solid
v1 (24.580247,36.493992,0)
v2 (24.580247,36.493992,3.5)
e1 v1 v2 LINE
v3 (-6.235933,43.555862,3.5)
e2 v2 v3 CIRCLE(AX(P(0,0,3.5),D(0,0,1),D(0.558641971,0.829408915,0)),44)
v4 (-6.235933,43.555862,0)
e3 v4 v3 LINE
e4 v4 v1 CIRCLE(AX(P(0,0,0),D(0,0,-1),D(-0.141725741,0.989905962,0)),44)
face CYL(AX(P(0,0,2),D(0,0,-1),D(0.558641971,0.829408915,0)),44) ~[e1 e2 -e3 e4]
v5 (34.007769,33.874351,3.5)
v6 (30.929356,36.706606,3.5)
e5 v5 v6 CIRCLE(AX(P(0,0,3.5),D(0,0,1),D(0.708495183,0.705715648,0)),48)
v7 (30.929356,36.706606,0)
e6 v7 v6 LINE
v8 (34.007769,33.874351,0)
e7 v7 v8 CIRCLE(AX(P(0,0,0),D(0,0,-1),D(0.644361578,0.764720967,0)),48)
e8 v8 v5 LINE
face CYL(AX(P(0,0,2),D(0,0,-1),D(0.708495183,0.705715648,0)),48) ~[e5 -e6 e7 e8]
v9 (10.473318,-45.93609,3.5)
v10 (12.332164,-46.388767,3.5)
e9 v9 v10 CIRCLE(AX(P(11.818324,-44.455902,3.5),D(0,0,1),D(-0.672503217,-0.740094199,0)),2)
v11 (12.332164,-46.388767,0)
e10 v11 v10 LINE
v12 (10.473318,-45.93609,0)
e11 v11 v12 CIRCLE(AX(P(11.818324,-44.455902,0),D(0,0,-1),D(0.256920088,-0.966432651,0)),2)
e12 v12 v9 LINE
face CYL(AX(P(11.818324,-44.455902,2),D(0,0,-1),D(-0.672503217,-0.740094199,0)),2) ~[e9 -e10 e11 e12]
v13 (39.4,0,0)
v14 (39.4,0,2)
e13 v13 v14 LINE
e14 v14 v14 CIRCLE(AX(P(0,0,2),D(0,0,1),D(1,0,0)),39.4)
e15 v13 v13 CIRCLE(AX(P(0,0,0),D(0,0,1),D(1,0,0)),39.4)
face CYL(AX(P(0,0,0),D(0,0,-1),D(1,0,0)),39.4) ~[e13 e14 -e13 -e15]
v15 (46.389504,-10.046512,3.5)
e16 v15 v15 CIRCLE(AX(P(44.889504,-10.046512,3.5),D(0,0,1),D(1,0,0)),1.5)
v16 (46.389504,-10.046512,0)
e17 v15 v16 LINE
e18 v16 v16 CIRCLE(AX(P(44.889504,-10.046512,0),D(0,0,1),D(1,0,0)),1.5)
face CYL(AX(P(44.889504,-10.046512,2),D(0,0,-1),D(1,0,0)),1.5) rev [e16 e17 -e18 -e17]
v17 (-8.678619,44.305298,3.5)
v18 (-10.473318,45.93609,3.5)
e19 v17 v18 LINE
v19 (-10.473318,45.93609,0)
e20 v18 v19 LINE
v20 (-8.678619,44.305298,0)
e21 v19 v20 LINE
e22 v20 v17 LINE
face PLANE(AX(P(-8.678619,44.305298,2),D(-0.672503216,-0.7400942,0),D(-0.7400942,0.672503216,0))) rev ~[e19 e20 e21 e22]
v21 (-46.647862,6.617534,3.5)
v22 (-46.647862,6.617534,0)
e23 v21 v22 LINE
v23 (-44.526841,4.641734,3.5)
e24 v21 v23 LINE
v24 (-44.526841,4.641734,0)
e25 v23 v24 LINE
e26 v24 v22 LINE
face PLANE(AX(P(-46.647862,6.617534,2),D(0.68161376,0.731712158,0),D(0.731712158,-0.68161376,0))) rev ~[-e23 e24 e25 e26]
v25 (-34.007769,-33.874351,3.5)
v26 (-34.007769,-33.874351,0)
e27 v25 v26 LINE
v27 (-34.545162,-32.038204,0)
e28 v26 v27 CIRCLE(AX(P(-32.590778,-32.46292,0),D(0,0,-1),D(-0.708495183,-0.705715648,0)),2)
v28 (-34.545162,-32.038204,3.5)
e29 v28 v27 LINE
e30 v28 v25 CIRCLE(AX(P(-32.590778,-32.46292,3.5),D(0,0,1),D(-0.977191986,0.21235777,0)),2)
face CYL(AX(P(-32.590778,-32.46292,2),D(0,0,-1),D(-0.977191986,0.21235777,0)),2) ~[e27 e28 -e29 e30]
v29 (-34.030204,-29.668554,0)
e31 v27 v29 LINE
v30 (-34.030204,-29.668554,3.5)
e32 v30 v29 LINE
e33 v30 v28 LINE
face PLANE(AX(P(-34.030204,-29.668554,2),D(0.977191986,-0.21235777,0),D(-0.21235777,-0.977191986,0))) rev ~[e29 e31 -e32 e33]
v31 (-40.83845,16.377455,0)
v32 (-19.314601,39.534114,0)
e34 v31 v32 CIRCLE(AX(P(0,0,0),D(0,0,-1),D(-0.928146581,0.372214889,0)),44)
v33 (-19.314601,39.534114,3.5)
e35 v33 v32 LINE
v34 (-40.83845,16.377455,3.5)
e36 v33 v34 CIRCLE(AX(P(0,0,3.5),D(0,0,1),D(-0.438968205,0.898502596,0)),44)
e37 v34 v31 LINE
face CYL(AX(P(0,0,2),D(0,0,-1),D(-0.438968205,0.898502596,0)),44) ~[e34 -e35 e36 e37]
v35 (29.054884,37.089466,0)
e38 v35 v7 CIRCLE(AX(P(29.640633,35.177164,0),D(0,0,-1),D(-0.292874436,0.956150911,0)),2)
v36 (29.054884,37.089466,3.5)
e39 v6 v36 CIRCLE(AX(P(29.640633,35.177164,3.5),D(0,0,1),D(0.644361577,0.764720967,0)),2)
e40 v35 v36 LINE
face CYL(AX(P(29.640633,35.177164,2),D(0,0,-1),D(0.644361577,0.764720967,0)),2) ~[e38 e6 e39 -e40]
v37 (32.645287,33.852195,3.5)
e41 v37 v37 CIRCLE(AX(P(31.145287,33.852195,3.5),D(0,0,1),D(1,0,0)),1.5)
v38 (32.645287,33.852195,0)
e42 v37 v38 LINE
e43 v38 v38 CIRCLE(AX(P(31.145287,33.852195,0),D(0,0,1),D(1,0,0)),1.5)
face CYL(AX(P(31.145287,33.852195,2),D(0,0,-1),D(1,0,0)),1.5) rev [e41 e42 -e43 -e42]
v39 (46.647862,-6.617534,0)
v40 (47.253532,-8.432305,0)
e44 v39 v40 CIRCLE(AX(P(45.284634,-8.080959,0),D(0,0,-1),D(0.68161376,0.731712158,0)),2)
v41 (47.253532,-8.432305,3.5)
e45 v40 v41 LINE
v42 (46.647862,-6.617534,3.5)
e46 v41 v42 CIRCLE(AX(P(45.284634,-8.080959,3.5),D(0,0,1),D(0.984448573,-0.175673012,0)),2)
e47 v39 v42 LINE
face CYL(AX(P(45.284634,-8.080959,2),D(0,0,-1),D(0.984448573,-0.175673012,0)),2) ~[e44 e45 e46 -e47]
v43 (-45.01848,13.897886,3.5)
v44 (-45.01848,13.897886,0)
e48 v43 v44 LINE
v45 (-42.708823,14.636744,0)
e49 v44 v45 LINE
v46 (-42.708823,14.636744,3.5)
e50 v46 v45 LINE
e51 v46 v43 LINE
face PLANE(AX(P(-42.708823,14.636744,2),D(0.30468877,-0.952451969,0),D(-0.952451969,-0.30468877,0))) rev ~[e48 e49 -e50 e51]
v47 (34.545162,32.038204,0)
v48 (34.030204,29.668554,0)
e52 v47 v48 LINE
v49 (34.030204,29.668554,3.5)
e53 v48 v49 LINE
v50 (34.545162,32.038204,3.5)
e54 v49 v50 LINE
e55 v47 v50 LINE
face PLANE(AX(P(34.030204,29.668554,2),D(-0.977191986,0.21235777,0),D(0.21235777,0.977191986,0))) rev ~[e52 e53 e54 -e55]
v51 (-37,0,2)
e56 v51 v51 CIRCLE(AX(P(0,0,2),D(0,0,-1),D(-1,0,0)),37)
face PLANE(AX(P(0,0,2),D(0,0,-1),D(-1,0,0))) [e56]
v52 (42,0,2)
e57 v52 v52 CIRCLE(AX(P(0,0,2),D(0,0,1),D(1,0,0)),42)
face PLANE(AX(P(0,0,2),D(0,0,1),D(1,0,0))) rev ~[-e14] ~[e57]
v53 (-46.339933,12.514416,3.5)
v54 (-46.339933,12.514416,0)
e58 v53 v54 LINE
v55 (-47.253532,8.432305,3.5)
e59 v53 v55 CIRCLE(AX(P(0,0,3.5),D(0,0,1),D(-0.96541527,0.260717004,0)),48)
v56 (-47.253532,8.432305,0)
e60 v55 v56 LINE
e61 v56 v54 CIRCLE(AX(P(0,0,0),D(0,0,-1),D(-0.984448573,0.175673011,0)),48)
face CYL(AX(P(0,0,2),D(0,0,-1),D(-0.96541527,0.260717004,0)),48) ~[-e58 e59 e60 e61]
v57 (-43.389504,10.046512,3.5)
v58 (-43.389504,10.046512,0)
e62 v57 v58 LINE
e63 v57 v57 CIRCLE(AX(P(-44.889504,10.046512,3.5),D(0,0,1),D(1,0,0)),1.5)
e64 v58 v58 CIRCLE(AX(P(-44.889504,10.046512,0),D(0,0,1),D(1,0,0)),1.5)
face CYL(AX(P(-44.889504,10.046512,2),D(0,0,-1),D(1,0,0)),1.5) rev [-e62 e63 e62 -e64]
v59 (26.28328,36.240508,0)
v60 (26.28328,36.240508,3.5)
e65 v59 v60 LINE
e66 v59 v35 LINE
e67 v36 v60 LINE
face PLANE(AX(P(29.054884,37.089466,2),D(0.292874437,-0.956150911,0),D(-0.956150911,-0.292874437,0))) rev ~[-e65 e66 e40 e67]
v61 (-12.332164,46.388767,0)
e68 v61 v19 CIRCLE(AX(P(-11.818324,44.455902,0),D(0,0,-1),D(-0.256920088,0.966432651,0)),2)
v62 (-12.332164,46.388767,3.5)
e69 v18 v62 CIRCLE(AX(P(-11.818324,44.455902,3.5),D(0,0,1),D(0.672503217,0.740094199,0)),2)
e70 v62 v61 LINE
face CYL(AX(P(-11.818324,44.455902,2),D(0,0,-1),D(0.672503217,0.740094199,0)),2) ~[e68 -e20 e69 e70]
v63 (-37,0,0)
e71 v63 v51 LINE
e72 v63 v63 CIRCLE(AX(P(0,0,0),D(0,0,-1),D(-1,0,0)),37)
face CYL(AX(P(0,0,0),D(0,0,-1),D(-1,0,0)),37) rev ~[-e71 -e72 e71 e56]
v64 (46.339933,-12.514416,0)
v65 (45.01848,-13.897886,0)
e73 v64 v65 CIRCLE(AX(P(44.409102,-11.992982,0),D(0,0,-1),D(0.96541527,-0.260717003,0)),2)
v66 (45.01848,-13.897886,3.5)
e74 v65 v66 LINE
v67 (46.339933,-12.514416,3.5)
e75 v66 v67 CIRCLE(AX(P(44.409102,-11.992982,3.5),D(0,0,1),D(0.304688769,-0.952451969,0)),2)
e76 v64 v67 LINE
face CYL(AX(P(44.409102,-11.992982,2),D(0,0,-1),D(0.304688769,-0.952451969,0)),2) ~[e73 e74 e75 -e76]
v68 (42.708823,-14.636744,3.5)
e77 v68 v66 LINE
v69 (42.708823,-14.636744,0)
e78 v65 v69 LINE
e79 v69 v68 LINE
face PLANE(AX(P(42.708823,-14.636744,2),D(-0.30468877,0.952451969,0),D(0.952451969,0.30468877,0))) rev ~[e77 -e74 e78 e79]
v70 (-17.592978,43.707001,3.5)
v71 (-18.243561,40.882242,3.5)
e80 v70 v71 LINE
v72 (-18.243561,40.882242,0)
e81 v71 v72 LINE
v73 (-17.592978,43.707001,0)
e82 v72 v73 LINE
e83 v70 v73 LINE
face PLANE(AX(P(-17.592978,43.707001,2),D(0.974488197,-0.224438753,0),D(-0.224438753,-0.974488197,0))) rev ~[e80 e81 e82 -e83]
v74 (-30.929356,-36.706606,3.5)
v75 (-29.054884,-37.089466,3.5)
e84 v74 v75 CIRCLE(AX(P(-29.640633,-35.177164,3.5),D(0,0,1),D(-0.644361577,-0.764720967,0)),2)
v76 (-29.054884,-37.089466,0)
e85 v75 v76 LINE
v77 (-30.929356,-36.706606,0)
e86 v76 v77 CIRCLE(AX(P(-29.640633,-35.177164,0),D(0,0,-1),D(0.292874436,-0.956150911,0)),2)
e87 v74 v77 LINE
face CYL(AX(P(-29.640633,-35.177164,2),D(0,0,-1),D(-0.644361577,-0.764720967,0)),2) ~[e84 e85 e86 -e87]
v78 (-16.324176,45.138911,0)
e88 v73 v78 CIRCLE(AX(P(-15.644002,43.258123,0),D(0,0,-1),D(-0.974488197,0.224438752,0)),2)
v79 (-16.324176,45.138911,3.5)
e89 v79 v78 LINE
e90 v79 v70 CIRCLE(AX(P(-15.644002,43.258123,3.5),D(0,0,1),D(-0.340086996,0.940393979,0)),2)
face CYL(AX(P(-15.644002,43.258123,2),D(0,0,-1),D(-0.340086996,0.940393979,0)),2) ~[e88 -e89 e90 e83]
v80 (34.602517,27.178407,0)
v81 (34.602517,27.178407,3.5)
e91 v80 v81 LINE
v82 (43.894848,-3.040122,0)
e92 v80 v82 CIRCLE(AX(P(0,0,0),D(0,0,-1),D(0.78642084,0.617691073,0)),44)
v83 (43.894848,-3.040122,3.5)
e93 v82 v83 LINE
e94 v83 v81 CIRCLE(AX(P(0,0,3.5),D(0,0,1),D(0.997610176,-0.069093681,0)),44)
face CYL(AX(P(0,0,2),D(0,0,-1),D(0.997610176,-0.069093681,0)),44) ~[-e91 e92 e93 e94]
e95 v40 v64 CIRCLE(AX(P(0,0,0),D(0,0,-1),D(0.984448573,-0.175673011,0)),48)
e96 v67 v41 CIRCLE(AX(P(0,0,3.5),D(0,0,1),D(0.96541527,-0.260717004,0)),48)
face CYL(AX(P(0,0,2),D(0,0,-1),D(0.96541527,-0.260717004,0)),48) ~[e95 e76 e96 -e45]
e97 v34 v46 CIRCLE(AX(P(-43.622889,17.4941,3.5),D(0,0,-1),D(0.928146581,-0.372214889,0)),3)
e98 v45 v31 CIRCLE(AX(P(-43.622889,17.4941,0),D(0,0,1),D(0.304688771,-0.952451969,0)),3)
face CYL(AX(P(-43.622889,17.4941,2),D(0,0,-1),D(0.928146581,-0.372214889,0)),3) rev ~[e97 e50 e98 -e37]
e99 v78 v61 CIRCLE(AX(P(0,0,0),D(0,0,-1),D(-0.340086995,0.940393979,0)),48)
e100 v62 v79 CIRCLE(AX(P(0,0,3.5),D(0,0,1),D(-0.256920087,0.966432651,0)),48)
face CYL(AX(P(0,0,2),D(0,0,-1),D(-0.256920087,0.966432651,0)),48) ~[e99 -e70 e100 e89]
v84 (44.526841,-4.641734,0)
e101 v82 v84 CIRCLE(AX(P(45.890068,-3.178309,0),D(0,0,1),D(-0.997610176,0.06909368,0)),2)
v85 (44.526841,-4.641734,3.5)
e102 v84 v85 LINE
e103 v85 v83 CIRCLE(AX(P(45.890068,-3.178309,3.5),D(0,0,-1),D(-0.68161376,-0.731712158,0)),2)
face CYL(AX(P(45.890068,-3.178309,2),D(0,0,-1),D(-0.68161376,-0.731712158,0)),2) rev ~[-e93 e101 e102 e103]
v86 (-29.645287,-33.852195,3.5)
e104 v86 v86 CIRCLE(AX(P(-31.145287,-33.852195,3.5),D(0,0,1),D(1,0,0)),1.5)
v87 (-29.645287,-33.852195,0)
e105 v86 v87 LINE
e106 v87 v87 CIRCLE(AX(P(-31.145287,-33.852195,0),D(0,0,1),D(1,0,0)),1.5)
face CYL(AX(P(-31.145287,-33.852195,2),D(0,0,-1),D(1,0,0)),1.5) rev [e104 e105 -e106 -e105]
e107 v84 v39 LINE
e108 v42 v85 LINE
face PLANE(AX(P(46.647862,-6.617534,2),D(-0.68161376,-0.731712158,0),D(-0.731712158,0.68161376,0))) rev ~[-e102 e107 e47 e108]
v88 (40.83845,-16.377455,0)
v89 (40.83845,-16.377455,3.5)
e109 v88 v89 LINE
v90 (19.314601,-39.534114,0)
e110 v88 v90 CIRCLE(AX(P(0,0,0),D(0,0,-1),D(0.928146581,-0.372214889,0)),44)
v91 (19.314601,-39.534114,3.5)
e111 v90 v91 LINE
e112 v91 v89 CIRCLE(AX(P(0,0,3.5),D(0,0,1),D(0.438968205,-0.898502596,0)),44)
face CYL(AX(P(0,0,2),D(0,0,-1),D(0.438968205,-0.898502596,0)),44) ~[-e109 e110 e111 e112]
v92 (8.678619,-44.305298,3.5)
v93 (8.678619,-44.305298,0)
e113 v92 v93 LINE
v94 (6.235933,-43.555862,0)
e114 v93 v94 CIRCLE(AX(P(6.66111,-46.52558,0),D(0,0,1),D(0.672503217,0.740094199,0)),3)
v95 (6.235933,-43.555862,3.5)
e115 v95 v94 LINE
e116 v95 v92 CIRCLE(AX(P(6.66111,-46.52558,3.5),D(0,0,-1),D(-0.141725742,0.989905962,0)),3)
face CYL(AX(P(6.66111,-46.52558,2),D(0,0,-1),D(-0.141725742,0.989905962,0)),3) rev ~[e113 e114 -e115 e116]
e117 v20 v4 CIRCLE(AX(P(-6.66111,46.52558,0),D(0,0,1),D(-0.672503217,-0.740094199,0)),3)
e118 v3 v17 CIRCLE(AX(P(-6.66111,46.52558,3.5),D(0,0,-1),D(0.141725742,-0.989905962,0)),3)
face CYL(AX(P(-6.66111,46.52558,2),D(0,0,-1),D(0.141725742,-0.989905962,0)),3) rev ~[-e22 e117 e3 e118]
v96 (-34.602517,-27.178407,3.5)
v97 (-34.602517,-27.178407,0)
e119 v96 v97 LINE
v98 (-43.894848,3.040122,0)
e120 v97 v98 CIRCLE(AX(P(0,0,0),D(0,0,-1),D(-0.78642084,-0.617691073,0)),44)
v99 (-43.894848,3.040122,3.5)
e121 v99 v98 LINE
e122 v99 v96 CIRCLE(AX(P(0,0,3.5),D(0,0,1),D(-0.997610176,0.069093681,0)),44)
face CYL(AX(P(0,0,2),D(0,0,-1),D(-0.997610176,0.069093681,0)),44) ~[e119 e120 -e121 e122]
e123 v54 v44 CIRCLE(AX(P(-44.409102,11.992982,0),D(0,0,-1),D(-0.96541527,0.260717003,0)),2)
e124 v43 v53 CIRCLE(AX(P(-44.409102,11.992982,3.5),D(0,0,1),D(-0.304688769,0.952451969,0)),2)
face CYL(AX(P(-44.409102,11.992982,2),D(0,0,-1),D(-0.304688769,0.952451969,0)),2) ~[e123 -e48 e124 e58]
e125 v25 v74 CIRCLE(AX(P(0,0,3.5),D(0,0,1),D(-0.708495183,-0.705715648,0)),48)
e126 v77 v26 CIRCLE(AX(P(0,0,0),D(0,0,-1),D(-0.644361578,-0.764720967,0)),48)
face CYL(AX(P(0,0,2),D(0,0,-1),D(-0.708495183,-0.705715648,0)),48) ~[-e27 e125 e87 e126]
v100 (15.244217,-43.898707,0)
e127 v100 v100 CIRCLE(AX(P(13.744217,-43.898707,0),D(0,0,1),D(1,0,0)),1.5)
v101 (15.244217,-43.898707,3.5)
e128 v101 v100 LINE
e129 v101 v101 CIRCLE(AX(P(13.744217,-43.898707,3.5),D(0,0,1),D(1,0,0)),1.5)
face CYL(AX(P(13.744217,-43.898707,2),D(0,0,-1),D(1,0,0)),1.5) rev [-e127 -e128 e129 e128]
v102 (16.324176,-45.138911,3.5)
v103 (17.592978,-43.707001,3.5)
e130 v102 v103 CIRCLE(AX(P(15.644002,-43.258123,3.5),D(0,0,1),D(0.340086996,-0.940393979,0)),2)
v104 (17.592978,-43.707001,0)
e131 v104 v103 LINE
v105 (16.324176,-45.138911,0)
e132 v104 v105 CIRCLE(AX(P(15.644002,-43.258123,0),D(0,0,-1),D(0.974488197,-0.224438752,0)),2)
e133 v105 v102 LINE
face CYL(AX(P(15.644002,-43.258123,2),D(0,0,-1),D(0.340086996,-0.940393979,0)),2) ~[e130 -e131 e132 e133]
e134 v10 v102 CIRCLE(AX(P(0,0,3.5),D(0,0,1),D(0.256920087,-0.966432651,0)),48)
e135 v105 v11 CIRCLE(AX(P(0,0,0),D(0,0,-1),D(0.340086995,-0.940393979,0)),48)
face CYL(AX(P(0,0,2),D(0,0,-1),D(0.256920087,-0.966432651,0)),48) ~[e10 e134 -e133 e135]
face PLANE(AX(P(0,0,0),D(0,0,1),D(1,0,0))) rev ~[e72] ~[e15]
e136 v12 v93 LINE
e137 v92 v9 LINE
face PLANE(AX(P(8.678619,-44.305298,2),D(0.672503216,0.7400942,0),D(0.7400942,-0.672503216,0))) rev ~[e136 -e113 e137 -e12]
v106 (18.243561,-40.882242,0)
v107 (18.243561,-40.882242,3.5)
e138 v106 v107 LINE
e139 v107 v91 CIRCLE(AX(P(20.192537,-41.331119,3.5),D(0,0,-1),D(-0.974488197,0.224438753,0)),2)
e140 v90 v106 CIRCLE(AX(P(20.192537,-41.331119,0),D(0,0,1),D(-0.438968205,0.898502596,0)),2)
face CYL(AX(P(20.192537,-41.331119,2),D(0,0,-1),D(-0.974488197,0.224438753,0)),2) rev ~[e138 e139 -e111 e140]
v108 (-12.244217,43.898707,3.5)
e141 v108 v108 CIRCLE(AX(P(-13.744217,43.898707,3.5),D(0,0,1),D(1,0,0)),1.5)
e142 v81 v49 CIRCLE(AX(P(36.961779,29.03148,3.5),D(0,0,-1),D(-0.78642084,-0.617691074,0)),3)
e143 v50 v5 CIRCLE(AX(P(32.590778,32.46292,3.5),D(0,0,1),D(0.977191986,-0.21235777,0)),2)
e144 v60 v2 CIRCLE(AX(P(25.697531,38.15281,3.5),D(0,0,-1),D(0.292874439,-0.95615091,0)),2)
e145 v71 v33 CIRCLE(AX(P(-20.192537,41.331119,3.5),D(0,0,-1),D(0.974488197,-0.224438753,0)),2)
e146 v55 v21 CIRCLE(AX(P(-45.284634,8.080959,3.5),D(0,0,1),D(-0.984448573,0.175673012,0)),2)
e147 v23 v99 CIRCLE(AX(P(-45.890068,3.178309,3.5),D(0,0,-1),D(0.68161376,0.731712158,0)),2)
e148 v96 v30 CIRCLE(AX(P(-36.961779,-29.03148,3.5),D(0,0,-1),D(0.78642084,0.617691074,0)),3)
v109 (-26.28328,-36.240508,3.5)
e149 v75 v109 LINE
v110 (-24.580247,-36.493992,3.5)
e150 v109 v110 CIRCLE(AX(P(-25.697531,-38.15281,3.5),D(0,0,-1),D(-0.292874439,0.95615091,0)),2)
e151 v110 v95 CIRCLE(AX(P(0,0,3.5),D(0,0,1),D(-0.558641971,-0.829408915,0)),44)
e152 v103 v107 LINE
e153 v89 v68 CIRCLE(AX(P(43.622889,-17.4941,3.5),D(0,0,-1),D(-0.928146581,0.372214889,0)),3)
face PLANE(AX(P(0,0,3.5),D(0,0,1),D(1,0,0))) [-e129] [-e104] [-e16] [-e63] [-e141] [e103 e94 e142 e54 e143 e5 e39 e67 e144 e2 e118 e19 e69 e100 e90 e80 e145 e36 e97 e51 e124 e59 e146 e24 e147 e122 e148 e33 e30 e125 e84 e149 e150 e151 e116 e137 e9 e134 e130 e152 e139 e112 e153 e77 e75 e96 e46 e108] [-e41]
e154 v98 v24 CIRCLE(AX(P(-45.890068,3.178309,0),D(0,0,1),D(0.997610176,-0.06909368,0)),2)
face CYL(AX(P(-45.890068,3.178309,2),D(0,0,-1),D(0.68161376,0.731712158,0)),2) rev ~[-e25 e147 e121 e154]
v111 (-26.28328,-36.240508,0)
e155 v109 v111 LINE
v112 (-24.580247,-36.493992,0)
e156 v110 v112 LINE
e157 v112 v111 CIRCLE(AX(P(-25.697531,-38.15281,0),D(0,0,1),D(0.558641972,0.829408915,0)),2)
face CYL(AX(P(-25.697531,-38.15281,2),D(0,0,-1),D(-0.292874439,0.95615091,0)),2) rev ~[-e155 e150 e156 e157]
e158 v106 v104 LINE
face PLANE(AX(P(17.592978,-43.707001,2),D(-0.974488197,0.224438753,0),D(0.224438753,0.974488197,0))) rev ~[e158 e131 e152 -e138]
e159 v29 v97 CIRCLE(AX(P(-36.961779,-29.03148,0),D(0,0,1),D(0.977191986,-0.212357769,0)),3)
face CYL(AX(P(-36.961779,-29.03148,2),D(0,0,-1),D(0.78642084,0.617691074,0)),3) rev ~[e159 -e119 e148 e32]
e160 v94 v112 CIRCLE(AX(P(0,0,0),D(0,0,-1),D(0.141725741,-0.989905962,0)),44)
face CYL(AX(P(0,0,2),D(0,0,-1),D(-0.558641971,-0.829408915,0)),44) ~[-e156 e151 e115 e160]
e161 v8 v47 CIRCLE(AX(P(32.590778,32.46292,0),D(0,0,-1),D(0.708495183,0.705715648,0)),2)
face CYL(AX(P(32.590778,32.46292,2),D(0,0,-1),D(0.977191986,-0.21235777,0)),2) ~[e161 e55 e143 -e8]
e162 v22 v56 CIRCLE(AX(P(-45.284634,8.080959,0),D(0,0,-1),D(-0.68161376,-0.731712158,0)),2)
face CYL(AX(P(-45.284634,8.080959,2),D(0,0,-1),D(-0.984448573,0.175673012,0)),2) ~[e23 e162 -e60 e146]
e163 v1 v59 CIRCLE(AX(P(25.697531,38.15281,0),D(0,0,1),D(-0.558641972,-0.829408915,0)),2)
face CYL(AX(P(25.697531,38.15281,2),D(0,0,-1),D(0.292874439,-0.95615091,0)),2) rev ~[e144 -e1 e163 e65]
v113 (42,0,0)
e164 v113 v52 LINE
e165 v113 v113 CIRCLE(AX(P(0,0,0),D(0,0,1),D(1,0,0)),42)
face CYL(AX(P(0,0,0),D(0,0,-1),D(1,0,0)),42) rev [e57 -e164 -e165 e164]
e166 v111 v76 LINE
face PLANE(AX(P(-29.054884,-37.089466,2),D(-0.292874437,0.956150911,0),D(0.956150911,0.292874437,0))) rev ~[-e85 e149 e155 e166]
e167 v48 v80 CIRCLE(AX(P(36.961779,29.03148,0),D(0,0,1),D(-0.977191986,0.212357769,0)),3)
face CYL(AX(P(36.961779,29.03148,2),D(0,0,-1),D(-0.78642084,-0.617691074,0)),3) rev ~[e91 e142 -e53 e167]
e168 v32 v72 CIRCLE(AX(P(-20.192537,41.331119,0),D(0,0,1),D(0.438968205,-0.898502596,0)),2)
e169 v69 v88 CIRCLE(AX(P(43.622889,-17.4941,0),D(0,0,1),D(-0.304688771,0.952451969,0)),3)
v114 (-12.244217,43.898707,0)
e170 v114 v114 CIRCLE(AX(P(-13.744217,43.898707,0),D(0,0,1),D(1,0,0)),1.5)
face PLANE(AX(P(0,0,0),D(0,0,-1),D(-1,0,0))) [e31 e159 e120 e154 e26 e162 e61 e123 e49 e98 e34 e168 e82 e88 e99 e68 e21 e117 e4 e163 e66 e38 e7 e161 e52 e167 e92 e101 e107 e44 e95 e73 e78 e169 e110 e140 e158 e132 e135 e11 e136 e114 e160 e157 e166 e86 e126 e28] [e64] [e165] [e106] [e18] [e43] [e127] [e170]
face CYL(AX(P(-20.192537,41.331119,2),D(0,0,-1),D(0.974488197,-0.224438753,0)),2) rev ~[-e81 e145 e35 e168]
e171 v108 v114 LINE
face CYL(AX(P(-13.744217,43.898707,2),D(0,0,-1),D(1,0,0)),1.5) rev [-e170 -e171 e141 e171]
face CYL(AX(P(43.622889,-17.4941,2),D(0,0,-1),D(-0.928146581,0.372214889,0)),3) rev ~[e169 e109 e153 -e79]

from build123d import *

# Parameters (mm, degrees)
SKETCH2_R             = 39.4
BOSS_EXTRUDE1_DEPTH   = 2
SKETCH2_R_2           = 1.5
SKETCH2_R_3           = 42
BOSS_EXTRUDE1_2_DEPTH = 2
SKETCH3_R             = 1.5
BOSS_EXTRUDE2_DEPTH   = 1.5
SKETCH4_R             = 37
CUT_EXTRUDE1_DEPTH    = 2


with BuildPart() as part:
    # Sketch2 → Boss-Extrude1 (new body)
    with BuildSketch(Plane.XY):
        Circle(SKETCH2_R)
    extrude(amount=BOSS_EXTRUDE1_DEPTH)



with BuildPart() as body_2:
    # Sketch2 → Boss-Extrude1 2 (new body)
    with BuildSketch(Plane.XY):
        with BuildLine():
            Line((-45.018479974, 13.897886094), (-42.708823016, 14.636743864))
            ThreePointArc((-42.708823016, 14.636743864), (-41.579055756, 15.298025015), (-40.838449582, 16.377455105))
            ThreePointArc((-40.838449582, 16.377455105), (-32.228172293, 29.955715826), (-19.314601011, 39.534114228))
            ThreePointArc((-19.314601011, 39.534114228), (-18.626580504, 40.087021781), (-18.243561026, 40.882241915))
            Line((-18.243561026, 40.882241915), (-17.592978184, 43.707000534))
            ThreePointArc((-17.592978184, 43.707000534), (-17.140898521, 44.584509163), (-16.324175781, 45.138910987))
            ThreePointArc((-16.324175781, 45.138910987), (-14.341791733, 45.80734668), (-12.332164177, 46.388767247))
            ThreePointArc((-12.332164177, 46.388767247), (-11.345102668, 46.399111036), (-10.473317571, 45.936090345))
            Line((-10.473317571, 45.936090345), (-8.678619493, 44.30529763))
            ThreePointArc((-8.678619493, 44.30529763), (-7.541049587, 43.657531057), (-6.235932621, 43.555862342))
            ThreePointArc((-6.235932621, 43.555862342), (9.828324748, 42.888273836), (24.580246732, 36.493992253))
            ThreePointArc((24.580246732, 36.493992253), (25.403088973, 36.174602792), (26.283279549, 36.240508262))
            Line((26.283279549, 36.240508262), (29.054883694, 37.089466303))
            ThreePointArc((29.054883694, 37.089466303), (30.04086829, 37.136708144), (30.929355724, 36.706606415))
            ThreePointArc((30.929355724, 36.706606415), (32.499430039, 35.324029316), (34.007768798, 33.874351084))
            ThreePointArc((34.007768798, 33.874351084), (34.510257536, 33.024702637), (34.545162404, 32.03820425))
            Line((34.545162404, 32.03820425), (34.030203523, 29.668553765))
            ThreePointArc((34.030203523, 29.668553765), (34.038006169, 28.359506042), (34.602516962, 27.178407237))
            ThreePointArc((34.602516962, 27.178407237), (42.05649704, 12.93255801), (43.894847743, -3.040121975))
            ThreePointArc((43.894847743, -3.040121975), (44.029669477, -3.912418989), (44.526840575, -4.641733653))
            Line((44.526840575, -4.641733653), (46.647861878, -6.617534232))
            ThreePointArc((46.647861878, -6.617534232), (47.181766811, -7.447801019), (47.253531504, -8.432304572))
            ThreePointArc((47.253531504, -8.432304572), (46.841221772, -10.483317364), (46.339932975, -12.514416163))
            ThreePointArc((46.339932975, -12.514416163), (45.855360204, -13.374408399), (45.018479974, -13.897886094))
            Line((45.018479974, -13.897886094), (42.708823016, -14.636743864))
            ThreePointArc((42.708823016, -14.636743864), (41.579055756, -15.298025015), (40.838449582, -16.377455105))
            ThreePointArc((40.838449582, -16.377455105), (32.228172293, -29.955715826), (19.314601011, -39.534114228))
            ThreePointArc((19.314601011, -39.534114228), (18.626580504, -40.087021781), (18.243561026, -40.882241915))
            Line((18.243561026, -40.882241915), (17.592978184, -43.707000534))
            ThreePointArc((17.592978184, -43.707000534), (17.140898521, -44.584509163), (16.324175781, -45.138910987))
            ThreePointArc((16.324175781, -45.138910987), (14.341791733, -45.80734668), (12.332164177, -46.388767247))
            ThreePointArc((12.332164177, -46.388767247), (11.345102668, -46.399111036), (10.473317571, -45.936090345))
            Line((10.473317571, -45.936090345), (8.678619493, -44.30529763))
            ThreePointArc((8.678619493, -44.30529763), (7.541049587, -43.657531057), (6.235932621, -43.555862342))
            ThreePointArc((6.235932621, -43.555862342), (-9.828324748, -42.888273836), (-24.580246732, -36.493992253))
            ThreePointArc((-24.580246732, -36.493992253), (-25.403088973, -36.174602792), (-26.283279549, -36.240508262))
            Line((-26.283279549, -36.240508262), (-29.054883694, -37.089466303))
            ThreePointArc((-29.054883694, -37.089466303), (-30.04086829, -37.136708144), (-30.929355724, -36.706606415))
            ThreePointArc((-30.929355724, -36.706606415), (-32.499430039, -35.324029316), (-34.007768798, -33.874351084))
            ThreePointArc((-34.007768798, -33.874351084), (-34.510257536, -33.024702637), (-34.545162404, -32.03820425))
            Line((-34.545162404, -32.03820425), (-34.030203523, -29.668553765))
            ThreePointArc((-34.030203523, -29.668553765), (-34.038006169, -28.359506042), (-34.602516962, -27.178407237))
            ThreePointArc((-34.602516962, -27.178407237), (-42.05649704, -12.93255801), (-43.894847743, 3.040121975))
            ThreePointArc((-43.894847743, 3.040121975), (-44.029669477, 3.912418989), (-44.526840575, 4.641733653))
            Line((-44.526840575, 4.641733653), (-46.647861878, 6.617534232))
            ThreePointArc((-46.647861878, 6.617534232), (-47.181766811, 7.447801019), (-47.253531504, 8.432304572))
            ThreePointArc((-47.253531504, 8.432304572), (-46.841221772, 10.483317364), (-46.339932975, 12.514416163))
            ThreePointArc((-46.339932975, 12.514416163), (-45.855360204, 13.374408399), (-45.018479974, 13.897886094))
        make_face()
        with Locations((-13.744217077, 43.898707235)):
            Circle(SKETCH2_R_2, mode=Mode.SUBTRACT)
        with Locations((-44.889504198, 10.046512474)):
            Circle(SKETCH2_R_2, mode=Mode.SUBTRACT)
        with Locations((31.145287121, 33.852194762)):
            Circle(SKETCH2_R_2, mode=Mode.SUBTRACT)
        with Locations((44.889504198, -10.046512474)):
            Circle(SKETCH2_R_2, mode=Mode.SUBTRACT)
        with Locations((13.744217077, -43.898707235)):
            Circle(SKETCH2_R_2, mode=Mode.SUBTRACT)
        with Locations((-31.145287121, -33.852194762)):
            Circle(SKETCH2_R_2, mode=Mode.SUBTRACT)
        Circle(SKETCH2_R_3, mode=Mode.SUBTRACT)
    extrude(amount=BOSS_EXTRUDE1_2_DEPTH)


with BuildPart() as part_1:
    add(part.part)

    add(body_2.part)  # Boss-Extrude2 merges body 2
    # Sketch3 → Boss-Extrude2 (add)
    with BuildSketch(Plane.XY.offset(2)):
        with BuildLine():
            Line((8.678619493, -44.30529763), (10.473317571, -45.936090345))
            ThreePointArc((10.473317571, -45.936090345), (11.345102668, -46.399111036), (12.332164177, -46.388767247))
            ThreePointArc((12.332164177, -46.388767247), (14.341791733, -45.80734668), (16.324175781, -45.138910987))
            ThreePointArc((16.324175781, -45.138910987), (17.140898521, -44.584509163), (17.592978184, -43.707000534))
            Line((17.592978184, -43.707000534), (18.243561026, -40.882241915))
            ThreePointArc((18.243561026, -40.882241915), (18.626580504, -40.087021781), (19.314601011, -39.534114228))
            ThreePointArc((19.314601011, -39.534114228), (32.228172293, -29.955715826), (40.838449582, -16.377455105))
            ThreePointArc((40.838449582, -16.377455105), (41.579055756, -15.298025015), (42.708823016, -14.636743864))
            Line((42.708823016, -14.636743864), (45.018479974, -13.897886094))
            ThreePointArc((45.018479974, -13.897886094), (45.855360204, -13.374408399), (46.339932975, -12.514416163))
            ThreePointArc((46.339932975, -12.514416163), (46.841221772, -10.483317364), (47.253531504, -8.432304572))
            ThreePointArc((47.253531504, -8.432304572), (47.181766811, -7.447801019), (46.647861878, -6.617534232))
            Line((46.647861878, -6.617534232), (44.526840575, -4.641733653))
            ThreePointArc((44.526840575, -4.641733653), (44.029669477, -3.912418989), (43.894847743, -3.040121975))
            ThreePointArc((43.894847743, -3.040121975), (42.05649704, 12.93255801), (34.602516962, 27.178407237))
            ThreePointArc((34.602516962, 27.178407237), (34.038006169, 28.359506042), (34.030203523, 29.668553765))
            Line((34.030203523, 29.668553765), (34.545162404, 32.03820425))
            ThreePointArc((34.545162404, 32.03820425), (34.510257536, 33.024702637), (34.007768798, 33.874351084))
            ThreePointArc((34.007768798, 33.874351084), (32.499430039, 35.324029316), (30.929355724, 36.706606415))
            ThreePointArc((30.929355724, 36.706606415), (30.04086829, 37.136708144), (29.054883694, 37.089466303))
            Line((29.054883694, 37.089466303), (26.283279549, 36.240508262))
            ThreePointArc((26.283279549, 36.240508262), (25.403088973, 36.174602792), (24.580246732, 36.493992253))
            ThreePointArc((24.580246732, 36.493992253), (9.828324748, 42.888273836), (-6.235932621, 43.555862342))
            ThreePointArc((-6.235932621, 43.555862342), (-7.541049587, 43.657531057), (-8.678619493, 44.30529763))
            Line((-8.678619493, 44.30529763), (-10.473317571, 45.936090345))
            ThreePointArc((-10.473317571, 45.936090345), (-11.345102668, 46.399111036), (-12.332164177, 46.388767247))
            ThreePointArc((-12.332164177, 46.388767247), (-14.341791733, 45.80734668), (-16.324175781, 45.138910987))
            ThreePointArc((-16.324175781, 45.138910987), (-17.140898521, 44.584509163), (-17.592978184, 43.707000534))
            Line((-17.592978184, 43.707000534), (-18.243561026, 40.882241915))
            ThreePointArc((-18.243561026, 40.882241915), (-18.626580504, 40.087021781), (-19.314601011, 39.534114228))
            ThreePointArc((-19.314601011, 39.534114228), (-32.228172293, 29.955715826), (-40.838449582, 16.377455105))
            ThreePointArc((-40.838449582, 16.377455105), (-41.579055756, 15.298025015), (-42.708823016, 14.636743864))
            Line((-42.708823016, 14.636743864), (-45.018479974, 13.897886094))
            ThreePointArc((-45.018479974, 13.897886094), (-45.855360204, 13.374408399), (-46.339932975, 12.514416163))
            ThreePointArc((-46.339932975, 12.514416163), (-46.841221772, 10.483317364), (-47.253531504, 8.432304572))
            ThreePointArc((-47.253531504, 8.432304572), (-47.181766811, 7.447801019), (-46.647861878, 6.617534232))
            Line((-46.647861878, 6.617534232), (-44.526840575, 4.641733653))
            ThreePointArc((-44.526840575, 4.641733653), (-44.029669477, 3.912418989), (-43.894847743, 3.040121975))
            ThreePointArc((-43.894847743, 3.040121975), (-42.05649704, -12.93255801), (-34.602516962, -27.178407237))
            ThreePointArc((-34.602516962, -27.178407237), (-34.038006169, -28.359506042), (-34.030203523, -29.668553765))
            Line((-34.030203523, -29.668553765), (-34.545162404, -32.03820425))
            ThreePointArc((-34.545162404, -32.03820425), (-34.510257536, -33.024702637), (-34.007768798, -33.874351084))
            ThreePointArc((-34.007768798, -33.874351084), (-32.499430039, -35.324029316), (-30.929355724, -36.706606415))
            ThreePointArc((-30.929355724, -36.706606415), (-30.04086829, -37.136708144), (-29.054883694, -37.089466303))
            Line((-29.054883694, -37.089466303), (-26.283279549, -36.240508262))
            ThreePointArc((-26.283279549, -36.240508262), (-25.403088973, -36.174602792), (-24.580246732, -36.493992253))
            ThreePointArc((-24.580246732, -36.493992253), (-9.828324748, -42.888273836), (6.235932621, -43.555862342))
            ThreePointArc((6.235932621, -43.555862342), (7.541049587, -43.657531057), (8.678619493, -44.30529763))
        make_face()
        with Locations((-13.744217077, 43.898707235)):
            Circle(SKETCH3_R, mode=Mode.SUBTRACT)
        with Locations((31.145287121, 33.852194762)):
            Circle(SKETCH3_R, mode=Mode.SUBTRACT)
        with Locations((-44.889504198, 10.046512474)):
            Circle(SKETCH3_R, mode=Mode.SUBTRACT)
        with Locations((-31.145287121, -33.852194762)):
            Circle(SKETCH3_R, mode=Mode.SUBTRACT)
        with Locations((13.744217077, -43.898707235)):
            Circle(SKETCH3_R, mode=Mode.SUBTRACT)
        with Locations((44.889504198, -10.046512474)):
            Circle(SKETCH3_R, mode=Mode.SUBTRACT)
    extrude(amount=BOSS_EXTRUDE2_DEPTH)

    # Sketch4 → Cut-Extrude1 (cut)
    with BuildSketch(Plane(origin=(0, 0, 0), x_dir=(-1, 0, 0), z_dir=(0, 0, -1))):
        Circle(SKETCH4_R)
    extrude(amount=-CUT_EXTRUDE1_DEPTH, mode=Mode.SUBTRACT)


solid = part_1.part
